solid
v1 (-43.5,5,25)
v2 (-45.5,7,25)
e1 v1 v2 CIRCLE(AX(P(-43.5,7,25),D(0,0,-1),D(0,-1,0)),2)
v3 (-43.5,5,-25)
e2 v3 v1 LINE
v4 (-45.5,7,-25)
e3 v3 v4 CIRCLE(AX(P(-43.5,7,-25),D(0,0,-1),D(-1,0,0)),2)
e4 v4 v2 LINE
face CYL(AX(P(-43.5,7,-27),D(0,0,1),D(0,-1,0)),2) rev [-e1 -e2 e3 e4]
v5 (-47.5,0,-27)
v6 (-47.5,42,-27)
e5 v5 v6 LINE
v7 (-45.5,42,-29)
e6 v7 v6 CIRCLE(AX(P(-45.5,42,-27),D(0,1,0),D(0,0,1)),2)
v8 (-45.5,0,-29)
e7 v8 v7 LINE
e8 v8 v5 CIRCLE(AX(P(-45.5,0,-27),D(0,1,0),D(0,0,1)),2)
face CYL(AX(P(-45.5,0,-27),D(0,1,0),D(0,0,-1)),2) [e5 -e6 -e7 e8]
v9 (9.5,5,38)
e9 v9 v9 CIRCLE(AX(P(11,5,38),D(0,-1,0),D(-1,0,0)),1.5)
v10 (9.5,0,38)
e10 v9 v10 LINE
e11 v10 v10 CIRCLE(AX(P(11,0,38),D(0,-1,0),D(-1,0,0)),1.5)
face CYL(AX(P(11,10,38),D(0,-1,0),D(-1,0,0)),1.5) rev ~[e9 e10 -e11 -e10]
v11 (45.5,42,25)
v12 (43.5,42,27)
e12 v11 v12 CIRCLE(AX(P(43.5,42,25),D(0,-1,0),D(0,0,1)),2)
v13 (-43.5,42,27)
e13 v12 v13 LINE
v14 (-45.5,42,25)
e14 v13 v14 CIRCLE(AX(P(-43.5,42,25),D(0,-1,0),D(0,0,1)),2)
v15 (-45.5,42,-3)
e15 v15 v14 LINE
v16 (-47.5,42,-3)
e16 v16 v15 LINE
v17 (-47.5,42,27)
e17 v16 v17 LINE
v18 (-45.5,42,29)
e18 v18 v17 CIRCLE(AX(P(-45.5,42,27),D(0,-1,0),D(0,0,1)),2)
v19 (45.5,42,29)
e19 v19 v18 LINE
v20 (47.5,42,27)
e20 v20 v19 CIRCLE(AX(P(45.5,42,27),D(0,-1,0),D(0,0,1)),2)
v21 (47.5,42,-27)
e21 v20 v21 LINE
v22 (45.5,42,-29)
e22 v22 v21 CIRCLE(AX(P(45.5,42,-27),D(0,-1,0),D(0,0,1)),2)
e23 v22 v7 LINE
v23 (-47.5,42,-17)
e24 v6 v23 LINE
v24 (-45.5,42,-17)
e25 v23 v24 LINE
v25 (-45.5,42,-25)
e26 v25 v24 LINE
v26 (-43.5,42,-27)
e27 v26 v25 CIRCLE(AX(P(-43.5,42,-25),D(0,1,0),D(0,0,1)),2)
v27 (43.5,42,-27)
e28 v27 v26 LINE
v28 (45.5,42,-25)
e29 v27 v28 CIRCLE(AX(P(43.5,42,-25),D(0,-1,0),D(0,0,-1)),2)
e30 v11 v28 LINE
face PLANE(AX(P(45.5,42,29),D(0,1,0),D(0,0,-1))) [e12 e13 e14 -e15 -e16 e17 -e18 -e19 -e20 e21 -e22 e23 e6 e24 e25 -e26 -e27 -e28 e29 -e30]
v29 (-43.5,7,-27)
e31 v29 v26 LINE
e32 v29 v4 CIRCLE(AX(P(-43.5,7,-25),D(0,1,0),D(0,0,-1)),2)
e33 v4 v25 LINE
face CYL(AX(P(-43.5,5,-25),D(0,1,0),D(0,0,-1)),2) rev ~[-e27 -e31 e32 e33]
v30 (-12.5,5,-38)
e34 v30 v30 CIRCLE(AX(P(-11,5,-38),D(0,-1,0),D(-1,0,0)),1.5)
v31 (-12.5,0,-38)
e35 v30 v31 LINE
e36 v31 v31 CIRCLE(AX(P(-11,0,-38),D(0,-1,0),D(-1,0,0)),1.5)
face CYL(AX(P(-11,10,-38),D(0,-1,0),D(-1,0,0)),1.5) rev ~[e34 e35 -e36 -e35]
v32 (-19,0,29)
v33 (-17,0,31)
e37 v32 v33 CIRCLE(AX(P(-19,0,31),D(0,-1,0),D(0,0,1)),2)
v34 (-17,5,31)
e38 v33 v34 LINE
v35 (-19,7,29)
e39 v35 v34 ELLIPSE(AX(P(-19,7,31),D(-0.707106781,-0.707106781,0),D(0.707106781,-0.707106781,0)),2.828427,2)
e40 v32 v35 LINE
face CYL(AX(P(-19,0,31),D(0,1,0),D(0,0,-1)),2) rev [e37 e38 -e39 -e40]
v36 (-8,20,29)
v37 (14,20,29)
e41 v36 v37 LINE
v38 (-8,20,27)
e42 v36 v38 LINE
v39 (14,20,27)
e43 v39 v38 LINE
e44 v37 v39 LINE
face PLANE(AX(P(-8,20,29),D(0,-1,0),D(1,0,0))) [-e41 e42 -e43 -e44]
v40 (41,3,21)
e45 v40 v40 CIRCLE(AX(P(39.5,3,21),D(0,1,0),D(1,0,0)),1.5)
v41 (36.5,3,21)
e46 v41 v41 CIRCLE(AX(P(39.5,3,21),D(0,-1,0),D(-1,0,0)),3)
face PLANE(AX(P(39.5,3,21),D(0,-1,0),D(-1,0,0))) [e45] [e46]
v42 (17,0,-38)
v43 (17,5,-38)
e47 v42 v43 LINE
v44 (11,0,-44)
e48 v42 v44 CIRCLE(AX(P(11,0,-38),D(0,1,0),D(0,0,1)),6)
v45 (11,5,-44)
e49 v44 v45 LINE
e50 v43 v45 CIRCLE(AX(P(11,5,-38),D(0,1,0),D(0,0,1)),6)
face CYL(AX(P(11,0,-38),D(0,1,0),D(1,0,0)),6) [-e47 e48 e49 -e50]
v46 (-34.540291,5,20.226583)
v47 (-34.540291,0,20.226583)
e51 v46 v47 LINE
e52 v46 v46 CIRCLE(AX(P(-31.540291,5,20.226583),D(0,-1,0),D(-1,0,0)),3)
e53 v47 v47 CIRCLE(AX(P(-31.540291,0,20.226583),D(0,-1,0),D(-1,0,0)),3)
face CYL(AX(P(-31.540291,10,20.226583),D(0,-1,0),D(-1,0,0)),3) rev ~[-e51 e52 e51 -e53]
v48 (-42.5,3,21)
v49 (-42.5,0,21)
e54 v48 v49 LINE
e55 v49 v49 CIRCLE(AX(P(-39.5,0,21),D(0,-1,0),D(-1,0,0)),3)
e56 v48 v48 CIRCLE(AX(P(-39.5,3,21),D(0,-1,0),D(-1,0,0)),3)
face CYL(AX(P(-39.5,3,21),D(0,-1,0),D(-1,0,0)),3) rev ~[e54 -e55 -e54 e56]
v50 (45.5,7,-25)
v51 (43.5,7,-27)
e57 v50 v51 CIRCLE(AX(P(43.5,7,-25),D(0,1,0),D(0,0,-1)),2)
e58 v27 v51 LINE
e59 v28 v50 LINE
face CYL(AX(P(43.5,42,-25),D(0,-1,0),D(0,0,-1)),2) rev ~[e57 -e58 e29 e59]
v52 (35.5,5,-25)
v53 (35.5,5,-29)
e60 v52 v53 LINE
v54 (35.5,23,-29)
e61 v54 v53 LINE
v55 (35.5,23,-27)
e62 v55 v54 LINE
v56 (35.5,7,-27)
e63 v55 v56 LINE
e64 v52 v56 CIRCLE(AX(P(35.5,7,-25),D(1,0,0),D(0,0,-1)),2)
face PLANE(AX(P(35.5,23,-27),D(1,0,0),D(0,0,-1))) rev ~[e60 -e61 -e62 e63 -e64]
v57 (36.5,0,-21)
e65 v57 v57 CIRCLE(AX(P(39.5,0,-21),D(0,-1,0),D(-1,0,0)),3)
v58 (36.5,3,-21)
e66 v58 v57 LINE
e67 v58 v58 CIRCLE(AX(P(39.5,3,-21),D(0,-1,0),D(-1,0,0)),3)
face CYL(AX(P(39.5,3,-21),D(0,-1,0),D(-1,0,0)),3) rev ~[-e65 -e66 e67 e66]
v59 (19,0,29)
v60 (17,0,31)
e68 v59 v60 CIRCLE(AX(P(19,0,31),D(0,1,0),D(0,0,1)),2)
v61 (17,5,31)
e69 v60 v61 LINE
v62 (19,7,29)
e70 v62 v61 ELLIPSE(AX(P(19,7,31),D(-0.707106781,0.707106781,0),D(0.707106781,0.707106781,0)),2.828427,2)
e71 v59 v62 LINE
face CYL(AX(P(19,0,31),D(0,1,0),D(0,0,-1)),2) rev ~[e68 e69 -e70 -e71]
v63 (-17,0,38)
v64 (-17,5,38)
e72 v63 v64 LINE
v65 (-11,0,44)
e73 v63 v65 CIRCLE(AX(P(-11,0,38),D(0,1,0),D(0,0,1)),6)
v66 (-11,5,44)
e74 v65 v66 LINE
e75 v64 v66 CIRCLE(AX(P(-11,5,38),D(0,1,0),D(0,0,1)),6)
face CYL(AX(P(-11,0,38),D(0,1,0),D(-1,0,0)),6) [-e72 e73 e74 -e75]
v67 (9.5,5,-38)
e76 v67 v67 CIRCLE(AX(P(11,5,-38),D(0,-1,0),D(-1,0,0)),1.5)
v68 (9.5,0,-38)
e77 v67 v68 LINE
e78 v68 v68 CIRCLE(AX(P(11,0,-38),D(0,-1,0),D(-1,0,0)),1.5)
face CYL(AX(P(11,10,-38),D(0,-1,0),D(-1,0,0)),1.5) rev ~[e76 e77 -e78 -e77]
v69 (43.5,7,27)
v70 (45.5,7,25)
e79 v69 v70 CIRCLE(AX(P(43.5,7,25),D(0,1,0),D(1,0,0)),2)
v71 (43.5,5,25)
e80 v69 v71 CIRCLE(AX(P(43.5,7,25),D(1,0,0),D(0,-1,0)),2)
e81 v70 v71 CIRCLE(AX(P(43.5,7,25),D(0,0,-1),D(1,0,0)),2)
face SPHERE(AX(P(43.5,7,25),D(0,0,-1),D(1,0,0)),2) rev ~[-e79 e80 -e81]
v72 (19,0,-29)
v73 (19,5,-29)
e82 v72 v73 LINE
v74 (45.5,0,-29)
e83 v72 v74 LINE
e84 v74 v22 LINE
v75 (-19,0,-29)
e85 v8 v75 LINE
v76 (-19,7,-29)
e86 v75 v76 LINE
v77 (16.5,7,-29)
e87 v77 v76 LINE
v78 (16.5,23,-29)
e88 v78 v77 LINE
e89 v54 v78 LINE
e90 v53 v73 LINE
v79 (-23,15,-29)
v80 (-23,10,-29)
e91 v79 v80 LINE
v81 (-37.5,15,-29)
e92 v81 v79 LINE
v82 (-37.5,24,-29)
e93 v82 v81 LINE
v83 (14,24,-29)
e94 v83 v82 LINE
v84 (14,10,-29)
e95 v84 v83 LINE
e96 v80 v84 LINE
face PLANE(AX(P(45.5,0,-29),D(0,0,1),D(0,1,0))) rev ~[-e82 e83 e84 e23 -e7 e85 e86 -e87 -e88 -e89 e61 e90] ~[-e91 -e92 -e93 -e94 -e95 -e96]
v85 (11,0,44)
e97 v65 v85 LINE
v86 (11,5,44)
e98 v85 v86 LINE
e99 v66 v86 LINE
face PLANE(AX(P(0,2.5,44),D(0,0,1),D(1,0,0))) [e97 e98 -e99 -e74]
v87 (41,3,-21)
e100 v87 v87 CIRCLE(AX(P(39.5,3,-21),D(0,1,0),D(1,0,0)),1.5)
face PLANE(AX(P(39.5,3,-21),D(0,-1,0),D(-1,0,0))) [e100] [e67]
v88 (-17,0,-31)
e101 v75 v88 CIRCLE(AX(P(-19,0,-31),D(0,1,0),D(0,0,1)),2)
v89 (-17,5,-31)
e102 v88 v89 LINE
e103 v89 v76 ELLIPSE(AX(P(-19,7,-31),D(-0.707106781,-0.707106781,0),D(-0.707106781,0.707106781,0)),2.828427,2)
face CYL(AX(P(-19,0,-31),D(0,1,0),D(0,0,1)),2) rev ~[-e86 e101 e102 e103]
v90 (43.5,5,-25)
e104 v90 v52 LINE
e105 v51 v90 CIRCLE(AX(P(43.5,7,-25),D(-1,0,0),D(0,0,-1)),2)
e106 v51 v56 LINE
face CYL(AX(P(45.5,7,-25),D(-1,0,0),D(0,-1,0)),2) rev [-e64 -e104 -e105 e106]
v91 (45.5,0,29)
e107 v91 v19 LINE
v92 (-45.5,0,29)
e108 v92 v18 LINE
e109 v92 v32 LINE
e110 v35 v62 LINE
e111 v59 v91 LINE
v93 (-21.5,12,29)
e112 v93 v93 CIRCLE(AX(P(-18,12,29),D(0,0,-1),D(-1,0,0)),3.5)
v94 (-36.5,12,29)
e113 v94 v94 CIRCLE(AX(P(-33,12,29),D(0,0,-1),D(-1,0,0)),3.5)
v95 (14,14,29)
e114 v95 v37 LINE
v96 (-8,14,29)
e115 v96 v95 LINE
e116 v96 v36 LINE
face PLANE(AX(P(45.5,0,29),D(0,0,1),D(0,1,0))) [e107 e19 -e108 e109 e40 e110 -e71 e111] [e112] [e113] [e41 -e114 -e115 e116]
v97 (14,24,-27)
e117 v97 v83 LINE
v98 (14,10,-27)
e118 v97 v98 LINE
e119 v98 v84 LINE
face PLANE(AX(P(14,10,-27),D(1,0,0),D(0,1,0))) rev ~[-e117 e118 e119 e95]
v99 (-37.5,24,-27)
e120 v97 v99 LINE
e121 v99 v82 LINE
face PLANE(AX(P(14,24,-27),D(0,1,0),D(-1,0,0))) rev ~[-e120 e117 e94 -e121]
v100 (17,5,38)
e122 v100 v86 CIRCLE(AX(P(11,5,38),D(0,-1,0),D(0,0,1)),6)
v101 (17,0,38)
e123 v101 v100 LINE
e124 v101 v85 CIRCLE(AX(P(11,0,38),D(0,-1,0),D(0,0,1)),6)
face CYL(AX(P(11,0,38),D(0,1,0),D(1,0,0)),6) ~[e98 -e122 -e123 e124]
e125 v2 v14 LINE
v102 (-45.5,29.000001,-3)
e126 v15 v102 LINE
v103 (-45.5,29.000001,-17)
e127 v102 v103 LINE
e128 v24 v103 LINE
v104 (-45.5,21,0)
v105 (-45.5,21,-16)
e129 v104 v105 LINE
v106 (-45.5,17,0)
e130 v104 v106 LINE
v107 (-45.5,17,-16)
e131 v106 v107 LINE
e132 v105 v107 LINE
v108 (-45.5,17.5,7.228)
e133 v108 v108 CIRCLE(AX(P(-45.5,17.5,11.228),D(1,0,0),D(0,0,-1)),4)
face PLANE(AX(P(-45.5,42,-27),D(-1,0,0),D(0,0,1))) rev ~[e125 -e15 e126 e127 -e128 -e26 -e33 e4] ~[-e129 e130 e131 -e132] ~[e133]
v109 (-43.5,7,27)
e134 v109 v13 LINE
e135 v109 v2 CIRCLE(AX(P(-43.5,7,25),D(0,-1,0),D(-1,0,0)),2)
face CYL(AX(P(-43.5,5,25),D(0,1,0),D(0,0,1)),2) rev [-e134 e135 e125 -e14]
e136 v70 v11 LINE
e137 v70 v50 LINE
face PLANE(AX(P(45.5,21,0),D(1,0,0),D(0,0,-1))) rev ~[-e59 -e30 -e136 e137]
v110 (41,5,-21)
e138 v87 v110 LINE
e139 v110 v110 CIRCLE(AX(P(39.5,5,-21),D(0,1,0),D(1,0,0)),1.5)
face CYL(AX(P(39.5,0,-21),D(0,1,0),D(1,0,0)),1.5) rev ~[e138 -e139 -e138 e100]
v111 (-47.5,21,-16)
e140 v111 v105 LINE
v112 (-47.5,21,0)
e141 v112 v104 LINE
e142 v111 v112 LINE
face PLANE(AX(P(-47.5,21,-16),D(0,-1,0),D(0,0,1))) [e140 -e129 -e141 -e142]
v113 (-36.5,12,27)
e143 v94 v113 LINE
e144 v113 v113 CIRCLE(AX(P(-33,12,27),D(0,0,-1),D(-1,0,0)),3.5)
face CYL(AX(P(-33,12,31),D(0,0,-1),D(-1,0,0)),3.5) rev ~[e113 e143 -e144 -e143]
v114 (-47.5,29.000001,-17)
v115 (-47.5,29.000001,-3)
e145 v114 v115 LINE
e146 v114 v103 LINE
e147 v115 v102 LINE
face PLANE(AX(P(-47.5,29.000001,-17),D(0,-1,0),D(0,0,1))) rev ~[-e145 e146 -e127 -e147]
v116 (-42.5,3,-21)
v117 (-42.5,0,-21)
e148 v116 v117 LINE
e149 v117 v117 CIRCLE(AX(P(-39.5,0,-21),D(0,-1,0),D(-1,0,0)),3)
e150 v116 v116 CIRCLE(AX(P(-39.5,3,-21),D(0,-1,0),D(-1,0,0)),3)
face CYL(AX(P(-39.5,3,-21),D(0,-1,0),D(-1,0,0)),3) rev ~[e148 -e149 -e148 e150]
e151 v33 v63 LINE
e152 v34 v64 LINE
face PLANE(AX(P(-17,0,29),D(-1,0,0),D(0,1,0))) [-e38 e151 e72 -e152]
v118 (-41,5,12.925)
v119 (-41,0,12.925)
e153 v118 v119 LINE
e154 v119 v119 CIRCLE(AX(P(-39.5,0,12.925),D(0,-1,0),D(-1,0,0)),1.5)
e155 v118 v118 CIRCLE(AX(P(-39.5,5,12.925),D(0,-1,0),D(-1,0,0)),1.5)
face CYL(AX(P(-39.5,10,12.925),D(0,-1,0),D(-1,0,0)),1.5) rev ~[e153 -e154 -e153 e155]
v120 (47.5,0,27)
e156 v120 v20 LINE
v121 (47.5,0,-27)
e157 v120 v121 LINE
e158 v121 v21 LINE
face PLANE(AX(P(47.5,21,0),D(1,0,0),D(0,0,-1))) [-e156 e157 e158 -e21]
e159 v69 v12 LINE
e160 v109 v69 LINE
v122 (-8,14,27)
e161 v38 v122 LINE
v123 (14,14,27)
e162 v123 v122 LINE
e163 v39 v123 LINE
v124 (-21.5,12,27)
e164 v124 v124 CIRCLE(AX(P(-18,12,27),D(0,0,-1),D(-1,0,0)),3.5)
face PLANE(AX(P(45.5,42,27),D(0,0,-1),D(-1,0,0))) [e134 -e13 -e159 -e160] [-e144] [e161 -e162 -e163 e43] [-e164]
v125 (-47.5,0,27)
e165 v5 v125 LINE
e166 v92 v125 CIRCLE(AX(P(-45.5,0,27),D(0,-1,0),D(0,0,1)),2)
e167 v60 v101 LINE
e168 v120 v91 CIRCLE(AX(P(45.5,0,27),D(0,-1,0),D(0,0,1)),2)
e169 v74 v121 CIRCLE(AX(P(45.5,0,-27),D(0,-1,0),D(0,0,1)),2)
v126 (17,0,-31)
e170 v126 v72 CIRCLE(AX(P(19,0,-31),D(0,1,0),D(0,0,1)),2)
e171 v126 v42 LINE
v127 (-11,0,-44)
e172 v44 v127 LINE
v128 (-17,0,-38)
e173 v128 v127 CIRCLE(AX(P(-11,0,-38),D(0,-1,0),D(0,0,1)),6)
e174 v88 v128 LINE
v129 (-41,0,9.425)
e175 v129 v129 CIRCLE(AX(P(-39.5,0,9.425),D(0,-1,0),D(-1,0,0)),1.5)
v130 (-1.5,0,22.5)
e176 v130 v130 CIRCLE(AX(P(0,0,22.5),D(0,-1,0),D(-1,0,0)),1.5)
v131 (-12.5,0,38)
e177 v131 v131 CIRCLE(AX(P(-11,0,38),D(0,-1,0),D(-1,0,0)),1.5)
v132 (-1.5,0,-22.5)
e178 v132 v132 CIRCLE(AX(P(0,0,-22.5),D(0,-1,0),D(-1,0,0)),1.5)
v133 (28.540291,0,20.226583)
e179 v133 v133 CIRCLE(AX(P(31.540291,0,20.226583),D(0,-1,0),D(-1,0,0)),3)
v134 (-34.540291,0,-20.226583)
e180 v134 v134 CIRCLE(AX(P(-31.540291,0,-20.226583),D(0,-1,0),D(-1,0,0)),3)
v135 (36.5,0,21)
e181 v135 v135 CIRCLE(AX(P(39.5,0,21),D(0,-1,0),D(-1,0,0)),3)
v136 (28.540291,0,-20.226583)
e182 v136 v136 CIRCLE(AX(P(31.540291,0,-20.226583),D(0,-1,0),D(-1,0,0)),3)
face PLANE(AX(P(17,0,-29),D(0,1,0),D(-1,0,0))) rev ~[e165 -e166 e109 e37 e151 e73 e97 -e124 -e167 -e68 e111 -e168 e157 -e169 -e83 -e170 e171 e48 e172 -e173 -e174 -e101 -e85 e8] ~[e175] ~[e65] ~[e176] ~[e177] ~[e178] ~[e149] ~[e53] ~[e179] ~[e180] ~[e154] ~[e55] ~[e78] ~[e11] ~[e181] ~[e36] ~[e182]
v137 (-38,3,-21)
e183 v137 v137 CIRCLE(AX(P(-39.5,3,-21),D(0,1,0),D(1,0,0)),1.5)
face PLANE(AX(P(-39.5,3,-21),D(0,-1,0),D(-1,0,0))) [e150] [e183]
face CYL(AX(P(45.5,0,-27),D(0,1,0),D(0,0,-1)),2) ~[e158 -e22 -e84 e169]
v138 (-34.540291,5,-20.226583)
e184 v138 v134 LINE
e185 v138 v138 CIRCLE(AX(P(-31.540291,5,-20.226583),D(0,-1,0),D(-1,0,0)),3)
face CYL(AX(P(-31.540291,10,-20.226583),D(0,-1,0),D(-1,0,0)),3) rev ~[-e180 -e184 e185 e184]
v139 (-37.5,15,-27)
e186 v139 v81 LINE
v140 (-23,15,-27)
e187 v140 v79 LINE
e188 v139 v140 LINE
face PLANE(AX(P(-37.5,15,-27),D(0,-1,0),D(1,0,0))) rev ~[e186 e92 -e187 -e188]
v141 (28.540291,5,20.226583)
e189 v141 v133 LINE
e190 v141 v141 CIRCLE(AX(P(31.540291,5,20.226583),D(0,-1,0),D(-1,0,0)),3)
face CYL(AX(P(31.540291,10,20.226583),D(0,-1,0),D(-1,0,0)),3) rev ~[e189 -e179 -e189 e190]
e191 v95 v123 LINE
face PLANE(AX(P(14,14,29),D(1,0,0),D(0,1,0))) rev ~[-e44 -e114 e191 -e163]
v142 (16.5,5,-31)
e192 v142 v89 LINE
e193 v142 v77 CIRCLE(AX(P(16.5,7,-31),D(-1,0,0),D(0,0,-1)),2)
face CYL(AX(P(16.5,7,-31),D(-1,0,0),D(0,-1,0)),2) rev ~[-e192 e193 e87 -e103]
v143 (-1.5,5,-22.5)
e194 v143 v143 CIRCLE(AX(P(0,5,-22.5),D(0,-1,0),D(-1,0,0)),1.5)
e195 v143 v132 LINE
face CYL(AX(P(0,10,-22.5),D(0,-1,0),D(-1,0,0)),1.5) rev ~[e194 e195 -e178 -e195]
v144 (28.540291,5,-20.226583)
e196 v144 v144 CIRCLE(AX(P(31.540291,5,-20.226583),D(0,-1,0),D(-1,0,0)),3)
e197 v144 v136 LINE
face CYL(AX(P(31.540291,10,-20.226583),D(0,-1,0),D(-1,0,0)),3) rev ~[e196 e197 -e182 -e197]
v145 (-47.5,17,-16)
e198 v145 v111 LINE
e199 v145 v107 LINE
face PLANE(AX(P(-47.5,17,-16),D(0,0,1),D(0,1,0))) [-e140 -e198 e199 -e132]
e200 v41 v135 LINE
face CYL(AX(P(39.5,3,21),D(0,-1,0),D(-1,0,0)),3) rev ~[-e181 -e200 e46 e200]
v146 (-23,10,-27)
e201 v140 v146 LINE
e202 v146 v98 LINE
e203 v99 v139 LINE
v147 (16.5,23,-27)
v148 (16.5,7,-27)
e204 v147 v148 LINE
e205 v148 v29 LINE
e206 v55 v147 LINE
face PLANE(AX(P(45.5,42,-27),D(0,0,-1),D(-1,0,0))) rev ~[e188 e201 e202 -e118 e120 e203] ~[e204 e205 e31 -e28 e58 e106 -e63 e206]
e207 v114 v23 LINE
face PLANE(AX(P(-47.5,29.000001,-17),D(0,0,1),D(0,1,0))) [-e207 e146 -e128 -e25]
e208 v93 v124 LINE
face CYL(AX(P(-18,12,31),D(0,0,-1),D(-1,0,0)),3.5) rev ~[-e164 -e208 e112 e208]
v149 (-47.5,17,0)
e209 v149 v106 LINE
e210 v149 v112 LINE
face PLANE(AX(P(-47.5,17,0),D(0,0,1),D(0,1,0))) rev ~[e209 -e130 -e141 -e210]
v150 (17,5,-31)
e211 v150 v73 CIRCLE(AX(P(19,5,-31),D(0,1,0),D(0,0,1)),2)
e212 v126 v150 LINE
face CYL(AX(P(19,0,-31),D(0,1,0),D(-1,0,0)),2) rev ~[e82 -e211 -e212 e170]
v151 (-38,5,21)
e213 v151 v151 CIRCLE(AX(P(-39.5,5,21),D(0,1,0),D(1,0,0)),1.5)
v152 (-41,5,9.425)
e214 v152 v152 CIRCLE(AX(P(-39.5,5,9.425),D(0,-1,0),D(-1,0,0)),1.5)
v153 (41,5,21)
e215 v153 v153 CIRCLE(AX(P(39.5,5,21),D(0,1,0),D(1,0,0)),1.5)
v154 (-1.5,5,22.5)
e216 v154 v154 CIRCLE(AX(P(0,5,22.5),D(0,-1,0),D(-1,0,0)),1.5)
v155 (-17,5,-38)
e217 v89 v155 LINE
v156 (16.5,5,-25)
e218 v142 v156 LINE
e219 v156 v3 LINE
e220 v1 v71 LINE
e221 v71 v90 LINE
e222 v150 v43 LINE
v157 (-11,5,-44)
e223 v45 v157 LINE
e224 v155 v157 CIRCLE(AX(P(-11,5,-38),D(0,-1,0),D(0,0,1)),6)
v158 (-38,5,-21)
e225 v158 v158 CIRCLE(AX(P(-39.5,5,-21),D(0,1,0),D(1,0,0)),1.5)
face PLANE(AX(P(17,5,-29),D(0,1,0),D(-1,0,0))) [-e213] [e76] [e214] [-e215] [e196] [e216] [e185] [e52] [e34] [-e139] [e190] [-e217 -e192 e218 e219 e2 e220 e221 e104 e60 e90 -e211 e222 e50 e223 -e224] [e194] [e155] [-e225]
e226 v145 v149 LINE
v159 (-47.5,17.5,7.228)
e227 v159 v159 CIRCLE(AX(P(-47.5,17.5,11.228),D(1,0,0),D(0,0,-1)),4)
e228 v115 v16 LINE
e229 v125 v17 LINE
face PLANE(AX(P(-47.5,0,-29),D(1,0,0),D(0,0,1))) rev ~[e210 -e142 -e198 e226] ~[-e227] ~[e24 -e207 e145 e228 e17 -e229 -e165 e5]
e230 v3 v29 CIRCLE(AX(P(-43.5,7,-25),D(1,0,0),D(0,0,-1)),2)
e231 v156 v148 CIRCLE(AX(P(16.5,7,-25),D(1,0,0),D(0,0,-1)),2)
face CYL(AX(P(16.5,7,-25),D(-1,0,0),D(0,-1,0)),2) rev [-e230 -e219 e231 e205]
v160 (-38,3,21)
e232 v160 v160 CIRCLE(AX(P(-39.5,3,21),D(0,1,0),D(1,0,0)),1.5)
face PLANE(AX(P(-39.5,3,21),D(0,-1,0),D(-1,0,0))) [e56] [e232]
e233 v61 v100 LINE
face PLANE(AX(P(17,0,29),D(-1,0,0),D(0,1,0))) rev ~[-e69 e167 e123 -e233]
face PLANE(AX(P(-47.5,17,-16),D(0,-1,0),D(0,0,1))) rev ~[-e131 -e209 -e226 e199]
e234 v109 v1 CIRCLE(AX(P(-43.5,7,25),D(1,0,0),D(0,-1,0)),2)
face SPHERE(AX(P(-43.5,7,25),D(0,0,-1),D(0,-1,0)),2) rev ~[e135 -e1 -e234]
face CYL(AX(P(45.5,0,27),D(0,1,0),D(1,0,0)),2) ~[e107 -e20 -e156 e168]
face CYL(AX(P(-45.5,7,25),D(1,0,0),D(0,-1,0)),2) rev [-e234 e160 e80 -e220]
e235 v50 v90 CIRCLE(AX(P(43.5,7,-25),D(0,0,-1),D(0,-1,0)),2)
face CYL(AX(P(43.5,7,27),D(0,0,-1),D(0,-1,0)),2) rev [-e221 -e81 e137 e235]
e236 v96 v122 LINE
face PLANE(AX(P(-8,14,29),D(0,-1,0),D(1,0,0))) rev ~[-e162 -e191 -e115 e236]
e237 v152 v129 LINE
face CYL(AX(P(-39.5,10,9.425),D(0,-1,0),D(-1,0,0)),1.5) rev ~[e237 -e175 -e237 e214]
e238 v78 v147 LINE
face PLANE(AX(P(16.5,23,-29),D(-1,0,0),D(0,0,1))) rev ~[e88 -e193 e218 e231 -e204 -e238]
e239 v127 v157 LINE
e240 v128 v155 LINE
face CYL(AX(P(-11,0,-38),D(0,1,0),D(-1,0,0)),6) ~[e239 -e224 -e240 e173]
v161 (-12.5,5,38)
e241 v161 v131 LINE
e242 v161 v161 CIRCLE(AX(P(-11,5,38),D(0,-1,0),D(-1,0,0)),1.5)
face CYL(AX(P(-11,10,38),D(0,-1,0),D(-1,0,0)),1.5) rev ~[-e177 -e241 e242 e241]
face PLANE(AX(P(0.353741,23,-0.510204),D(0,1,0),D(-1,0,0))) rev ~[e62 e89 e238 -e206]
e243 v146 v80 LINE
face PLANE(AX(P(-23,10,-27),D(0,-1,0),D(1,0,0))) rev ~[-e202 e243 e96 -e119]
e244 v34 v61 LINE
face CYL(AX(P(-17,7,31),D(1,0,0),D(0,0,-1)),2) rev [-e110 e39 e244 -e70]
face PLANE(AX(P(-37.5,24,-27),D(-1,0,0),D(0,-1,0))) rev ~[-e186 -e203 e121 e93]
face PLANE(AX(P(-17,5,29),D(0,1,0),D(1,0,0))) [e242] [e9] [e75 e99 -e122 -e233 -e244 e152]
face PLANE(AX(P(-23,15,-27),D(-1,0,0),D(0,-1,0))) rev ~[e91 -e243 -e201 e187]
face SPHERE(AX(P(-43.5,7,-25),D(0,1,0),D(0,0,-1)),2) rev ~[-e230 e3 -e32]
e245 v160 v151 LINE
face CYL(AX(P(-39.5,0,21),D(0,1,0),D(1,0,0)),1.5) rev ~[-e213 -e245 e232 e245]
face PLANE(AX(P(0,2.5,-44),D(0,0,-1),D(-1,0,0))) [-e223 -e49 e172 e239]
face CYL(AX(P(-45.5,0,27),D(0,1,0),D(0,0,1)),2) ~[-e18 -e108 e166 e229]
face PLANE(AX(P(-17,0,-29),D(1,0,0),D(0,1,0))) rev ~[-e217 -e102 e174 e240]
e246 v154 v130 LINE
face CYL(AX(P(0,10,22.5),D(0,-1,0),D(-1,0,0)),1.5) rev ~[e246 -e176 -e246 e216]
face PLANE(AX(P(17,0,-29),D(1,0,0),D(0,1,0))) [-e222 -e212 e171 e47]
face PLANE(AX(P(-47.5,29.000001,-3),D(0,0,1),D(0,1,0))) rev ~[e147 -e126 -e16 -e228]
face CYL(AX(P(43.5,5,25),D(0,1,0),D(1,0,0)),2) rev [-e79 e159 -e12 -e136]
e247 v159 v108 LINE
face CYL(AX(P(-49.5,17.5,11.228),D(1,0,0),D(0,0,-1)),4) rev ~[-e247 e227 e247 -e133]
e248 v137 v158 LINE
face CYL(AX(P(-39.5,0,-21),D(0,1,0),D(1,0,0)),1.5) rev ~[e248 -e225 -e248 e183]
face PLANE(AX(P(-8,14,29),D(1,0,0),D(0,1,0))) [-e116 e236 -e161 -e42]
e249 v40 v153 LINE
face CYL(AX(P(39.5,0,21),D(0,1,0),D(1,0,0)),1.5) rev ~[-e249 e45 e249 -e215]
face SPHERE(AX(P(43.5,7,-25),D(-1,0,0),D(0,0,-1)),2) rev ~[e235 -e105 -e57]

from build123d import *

# Parameters (mm, degrees)
SKETCH1_W                                          = 93
SKETCH1_H                                          = 58
BOSS_EXTRUDE1_DEPTH                                = 42
SKETCH2_W                                          = 91
SKETCH2_H                                          = 54
CUT_EXTRUDE1_DEPTH                                 = 19
CUT_EXTRUDE2_DEPTH                                 = 18
SKETCH4_W                                          = 58
SKETCH4_H                                          = 42
BOSS_EXTRUDE2_DEPTH                                = 2
SKETCH5_W                                          = 34
SKETCH5_H                                          = 5
BOSS_EXTRUDE3_DEPTH                                = 15
CUT_EXTRUDE3_REACH                                 = 97
SKETCH6_W                                          = 13.999999973
SKETCH6_H                                          = 12.999999419
CUT_EXTRUDE4_DEPTH                                 = 18
CUT_EXTRUDE5_REACH                                 = 97
SKETCH8_W                                          = 16
SKETCH8_H                                          = 4
SKETCH9_W                                          = 22.000000328
SKETCH9_H                                          = 6
CUT_EXTRUDE6_DEPTH                                 = 74
SKETCH10_W                                         = 34
SKETCH10_H                                         = 5
BOSS_EXTRUDE4_DEPTH                                = 15
F_3_0_3_DIAMETER_HOLE1_D                           = 3
F_3_0_3_DIAMETER_HOLE1_DEPTH                       = 5
F_6_0_6_DIAMETER_HOLE1_D                           = 6
F_6_0_6_DIAMETER_HOLE1_DEPTH                       = 5
F_7_0_7_DIAMETER_HOLE1_D                           = 7
F_7_0_7_DIAMETER_HOLE1_DEPTH                       = 2
F_8_0_8_DIAMETER_HOLE1_D                           = 8
F_8_0_8_DIAMETER_HOLE1_DEPTH                       = 2
CBORE_FOR_M2_5_HEX_HEAD_MACHINE_SCREW1_D           = 3
CBORE_FOR_M2_5_HEX_HEAD_MACHINE_SCREW1_DEPTH       = 42
CBORE_FOR_M2_5_HEX_HEAD_MACHINE_SCREW1_CBORE_D     = 6
CBORE_FOR_M2_5_HEX_HEAD_MACHINE_SCREW1_CBORE_DEPTH = 3
FILLET1_R                                          = 2
FILLET2_R                                          = 6


with BuildPart() as part:
    # Sketch1 → Boss-Extrude1 (new body)
    with BuildSketch(Plane.XZ):
        with Locations((-1, 0)):
            Rectangle(SKETCH1_W, SKETCH1_H)
    extrude(amount=-BOSS_EXTRUDE1_DEPTH)

    # Sketch2 → Cut-Extrude1 (cut)
    with BuildSketch(Plane(origin=(0, 42, 0), x_dir=(-1, 0, 0), z_dir=(0, 1, 0))):
        Rectangle(SKETCH2_W, SKETCH2_H)
    extrude(amount=-CUT_EXTRUDE1_DEPTH, mode=Mode.SUBTRACT)

    # Sketch3 → Cut-Extrude2 (cut)
    with BuildSketch(Plane(origin=(0, 23, 0), x_dir=(-1, 0, 0), z_dir=(0, 1, 0))):
        Polygon((-35.5, -29), (-16.5, -29), (-16.5, -27), (45.5, -27), (45.5, 27), (-45.5, 27), (-45.5, -27), (-35.5, -27), align=None)
    extrude(amount=-CUT_EXTRUDE2_DEPTH, mode=Mode.SUBTRACT)

    # Sketch4 → Boss-Extrude2 (add)
    with BuildSketch(Plane(origin=(45.5, 0, 0), x_dir=(0, 0, -1), z_dir=(1, 0, 0))):
        with Locations((0, 21)):
            Rectangle(SKETCH4_W, SKETCH4_H)
    extrude(amount=BOSS_EXTRUDE2_DEPTH)

    # Sketch5 → Boss-Extrude3 (add)
    with BuildSketch(Plane(origin=(0, 0, -29), x_dir=(-1, 0, 0), z_dir=(0, 0, -1))):
        with Locations((0, 2.5)):
            Rectangle(SKETCH5_W, SKETCH5_H)
    extrude(amount=BOSS_EXTRUDE3_DEPTH)

    # Sketch6 → Cut-Extrude3 (cut, up to next)
    with BuildSketch(Plane.ZY.offset(47.5), mode=Mode.PRIVATE) as cut_extrude3_sk1:
        with Locations((-10.000000013, 35.50000029)):
            Rectangle(SKETCH6_W, SKETCH6_H)
    cut_extrude3_tool1 = extrude(cut_extrude3_sk1.sketch, amount=-CUT_EXTRUDE3_REACH, mode=Mode.PRIVATE) & part.part
    add(cut_extrude3_tool1.solids().sort_by_distance((-47.5, 35.5, -10))[0], mode=Mode.SUBTRACT)

    # Sketch7 → Cut-Extrude4 (cut, through all)
    with BuildSketch(Plane.XY.offset(-27)):
        Polygon((14.000000071, 10), (14.000000071, 24), (-37.500000057, 24), (-37.500000057, 15), (-23.000000328, 15), (-23.000000328, 10), align=None)
    extrude(amount=-CUT_EXTRUDE4_DEPTH, mode=Mode.SUBTRACT)

    # Sketch8 → Cut-Extrude5 (cut, up to next)
    with BuildSketch(Plane.ZY.offset(47.5), mode=Mode.PRIVATE) as cut_extrude5_sk1:
        with Locations((-8, 19)):
            Rectangle(SKETCH8_W, SKETCH8_H)
    cut_extrude5_tool1 = extrude(cut_extrude5_sk1.sketch, amount=-CUT_EXTRUDE5_REACH, mode=Mode.PRIVATE) & part.part
    add(cut_extrude5_tool1.solids().sort_by_distance((-47.5, 19, -8))[0], mode=Mode.SUBTRACT)

    # Sketch9 → Cut-Extrude6 (cut, through all)
    with BuildSketch(Plane.XY.offset(29)):
        with Locations((2.999999836, 17)):
            Rectangle(SKETCH9_W, SKETCH9_H)
    extrude(amount=-CUT_EXTRUDE6_DEPTH, mode=Mode.SUBTRACT)

    # Sketch10 → Boss-Extrude4 (add)
    with BuildSketch(Plane.XY.offset(29)):
        with Locations((0, 2.5)):
            Rectangle(SKETCH10_W, SKETCH10_H)
    extrude(amount=BOSS_EXTRUDE4_DEPTH)

    # Ø3.0 (3) Diameter Hole1
    with Locations(Plane(origin=(0, 5, 0), x_dir=(1, 0, 0), z_dir=(0, 1, 0))):
        with Locations((11, -38), (-11, 38), (-11, -38), (11, 38), (0, 22.5), (0, -22.5), (-39.5, -12.925), (-39.5, -9.425)):
            Hole(F_3_0_3_DIAMETER_HOLE1_D / 2, depth=F_3_0_3_DIAMETER_HOLE1_DEPTH)

    # Ø6.0 (6) Diameter Hole1
    with Locations(Plane(origin=(0, 5, 0), x_dir=(1, 0, 0), z_dir=(0, 1, 0))):
        with Locations((31.540291459, -20.22658296), (-31.540291459, -20.22658296), (31.540291459, 20.22658296), (-31.540291459, 20.22658296)):
            Hole(F_6_0_6_DIAMETER_HOLE1_D / 2, depth=F_6_0_6_DIAMETER_HOLE1_DEPTH)

    # Ø7.0 (7) Diameter Hole1
    with Locations(Plane.XY.offset(29)):
        with Locations((-18.000000328, 12), (-33.000000328, 12)):
            Hole(F_7_0_7_DIAMETER_HOLE1_D / 2, depth=F_7_0_7_DIAMETER_HOLE1_DEPTH)

    # Ø8.0 (8) Diameter Hole1
    with Locations(Plane.ZY.offset(47.5)):
        with Locations((11.228, 17.5)):
            Hole(F_8_0_8_DIAMETER_HOLE1_D / 2, depth=F_8_0_8_DIAMETER_HOLE1_DEPTH)

    # CBORE for M2.5 Hex Head Machine Screw1
    with Locations(Plane(origin=(0, 0, 0), x_dir=(-1, 0, 0), z_dir=(0, -1, 0))):
        with Locations((-39.5, -21), (39.5, -21), (-39.5, 21), (39.5, 21)):
            CounterBoreHole(CBORE_FOR_M2_5_HEX_HEAD_MACHINE_SCREW1_D / 2, CBORE_FOR_M2_5_HEX_HEAD_MACHINE_SCREW1_CBORE_D / 2, CBORE_FOR_M2_5_HEX_HEAD_MACHINE_SCREW1_CBORE_DEPTH, depth=CBORE_FOR_M2_5_HEX_HEAD_MACHINE_SCREW1_DEPTH)

    # Fillet1
    fillet1_edges = [part.edges().sort_by_distance(p)[0] for p in [
        (40.5, 5, -27),
        (45.5, 23.5, -27),
        (-45.5, 23.5, -27),
        (-14.5, 5, -27),
        (45.5, 5, 0),
        (45.5, 23.5, 27),
        (-45.5, 5, 0),
        (0, 5, 27),
        (-45.5, 23.5, 27),
        (17, 2.5, 29),
        (0, 5, 29),
        (-17, 2.5, 29),
        (47.5, 21, 29),
        (-0.25, 5, -29),
        (-17, 2.5, -29),
        (-47.5, 21, 29),
        (17, 2.5, -29),
        (47.5, 21, -29),
        (-47.5, 21, -29),
    ]]
    fillet(fillet1_edges, radius=FILLET1_R)

    # Fillet2
    fillet2_edges = [part.edges().sort_by_distance(p)[0] for p in [
        (-17, 2.5, 44),
        (17, 2.5, 44),
        (-17, 2.5, -44),
        (17, 2.5, -44),
    ]]
    fillet(fillet2_edges, radius=FILLET2_R)


solid = part.part
